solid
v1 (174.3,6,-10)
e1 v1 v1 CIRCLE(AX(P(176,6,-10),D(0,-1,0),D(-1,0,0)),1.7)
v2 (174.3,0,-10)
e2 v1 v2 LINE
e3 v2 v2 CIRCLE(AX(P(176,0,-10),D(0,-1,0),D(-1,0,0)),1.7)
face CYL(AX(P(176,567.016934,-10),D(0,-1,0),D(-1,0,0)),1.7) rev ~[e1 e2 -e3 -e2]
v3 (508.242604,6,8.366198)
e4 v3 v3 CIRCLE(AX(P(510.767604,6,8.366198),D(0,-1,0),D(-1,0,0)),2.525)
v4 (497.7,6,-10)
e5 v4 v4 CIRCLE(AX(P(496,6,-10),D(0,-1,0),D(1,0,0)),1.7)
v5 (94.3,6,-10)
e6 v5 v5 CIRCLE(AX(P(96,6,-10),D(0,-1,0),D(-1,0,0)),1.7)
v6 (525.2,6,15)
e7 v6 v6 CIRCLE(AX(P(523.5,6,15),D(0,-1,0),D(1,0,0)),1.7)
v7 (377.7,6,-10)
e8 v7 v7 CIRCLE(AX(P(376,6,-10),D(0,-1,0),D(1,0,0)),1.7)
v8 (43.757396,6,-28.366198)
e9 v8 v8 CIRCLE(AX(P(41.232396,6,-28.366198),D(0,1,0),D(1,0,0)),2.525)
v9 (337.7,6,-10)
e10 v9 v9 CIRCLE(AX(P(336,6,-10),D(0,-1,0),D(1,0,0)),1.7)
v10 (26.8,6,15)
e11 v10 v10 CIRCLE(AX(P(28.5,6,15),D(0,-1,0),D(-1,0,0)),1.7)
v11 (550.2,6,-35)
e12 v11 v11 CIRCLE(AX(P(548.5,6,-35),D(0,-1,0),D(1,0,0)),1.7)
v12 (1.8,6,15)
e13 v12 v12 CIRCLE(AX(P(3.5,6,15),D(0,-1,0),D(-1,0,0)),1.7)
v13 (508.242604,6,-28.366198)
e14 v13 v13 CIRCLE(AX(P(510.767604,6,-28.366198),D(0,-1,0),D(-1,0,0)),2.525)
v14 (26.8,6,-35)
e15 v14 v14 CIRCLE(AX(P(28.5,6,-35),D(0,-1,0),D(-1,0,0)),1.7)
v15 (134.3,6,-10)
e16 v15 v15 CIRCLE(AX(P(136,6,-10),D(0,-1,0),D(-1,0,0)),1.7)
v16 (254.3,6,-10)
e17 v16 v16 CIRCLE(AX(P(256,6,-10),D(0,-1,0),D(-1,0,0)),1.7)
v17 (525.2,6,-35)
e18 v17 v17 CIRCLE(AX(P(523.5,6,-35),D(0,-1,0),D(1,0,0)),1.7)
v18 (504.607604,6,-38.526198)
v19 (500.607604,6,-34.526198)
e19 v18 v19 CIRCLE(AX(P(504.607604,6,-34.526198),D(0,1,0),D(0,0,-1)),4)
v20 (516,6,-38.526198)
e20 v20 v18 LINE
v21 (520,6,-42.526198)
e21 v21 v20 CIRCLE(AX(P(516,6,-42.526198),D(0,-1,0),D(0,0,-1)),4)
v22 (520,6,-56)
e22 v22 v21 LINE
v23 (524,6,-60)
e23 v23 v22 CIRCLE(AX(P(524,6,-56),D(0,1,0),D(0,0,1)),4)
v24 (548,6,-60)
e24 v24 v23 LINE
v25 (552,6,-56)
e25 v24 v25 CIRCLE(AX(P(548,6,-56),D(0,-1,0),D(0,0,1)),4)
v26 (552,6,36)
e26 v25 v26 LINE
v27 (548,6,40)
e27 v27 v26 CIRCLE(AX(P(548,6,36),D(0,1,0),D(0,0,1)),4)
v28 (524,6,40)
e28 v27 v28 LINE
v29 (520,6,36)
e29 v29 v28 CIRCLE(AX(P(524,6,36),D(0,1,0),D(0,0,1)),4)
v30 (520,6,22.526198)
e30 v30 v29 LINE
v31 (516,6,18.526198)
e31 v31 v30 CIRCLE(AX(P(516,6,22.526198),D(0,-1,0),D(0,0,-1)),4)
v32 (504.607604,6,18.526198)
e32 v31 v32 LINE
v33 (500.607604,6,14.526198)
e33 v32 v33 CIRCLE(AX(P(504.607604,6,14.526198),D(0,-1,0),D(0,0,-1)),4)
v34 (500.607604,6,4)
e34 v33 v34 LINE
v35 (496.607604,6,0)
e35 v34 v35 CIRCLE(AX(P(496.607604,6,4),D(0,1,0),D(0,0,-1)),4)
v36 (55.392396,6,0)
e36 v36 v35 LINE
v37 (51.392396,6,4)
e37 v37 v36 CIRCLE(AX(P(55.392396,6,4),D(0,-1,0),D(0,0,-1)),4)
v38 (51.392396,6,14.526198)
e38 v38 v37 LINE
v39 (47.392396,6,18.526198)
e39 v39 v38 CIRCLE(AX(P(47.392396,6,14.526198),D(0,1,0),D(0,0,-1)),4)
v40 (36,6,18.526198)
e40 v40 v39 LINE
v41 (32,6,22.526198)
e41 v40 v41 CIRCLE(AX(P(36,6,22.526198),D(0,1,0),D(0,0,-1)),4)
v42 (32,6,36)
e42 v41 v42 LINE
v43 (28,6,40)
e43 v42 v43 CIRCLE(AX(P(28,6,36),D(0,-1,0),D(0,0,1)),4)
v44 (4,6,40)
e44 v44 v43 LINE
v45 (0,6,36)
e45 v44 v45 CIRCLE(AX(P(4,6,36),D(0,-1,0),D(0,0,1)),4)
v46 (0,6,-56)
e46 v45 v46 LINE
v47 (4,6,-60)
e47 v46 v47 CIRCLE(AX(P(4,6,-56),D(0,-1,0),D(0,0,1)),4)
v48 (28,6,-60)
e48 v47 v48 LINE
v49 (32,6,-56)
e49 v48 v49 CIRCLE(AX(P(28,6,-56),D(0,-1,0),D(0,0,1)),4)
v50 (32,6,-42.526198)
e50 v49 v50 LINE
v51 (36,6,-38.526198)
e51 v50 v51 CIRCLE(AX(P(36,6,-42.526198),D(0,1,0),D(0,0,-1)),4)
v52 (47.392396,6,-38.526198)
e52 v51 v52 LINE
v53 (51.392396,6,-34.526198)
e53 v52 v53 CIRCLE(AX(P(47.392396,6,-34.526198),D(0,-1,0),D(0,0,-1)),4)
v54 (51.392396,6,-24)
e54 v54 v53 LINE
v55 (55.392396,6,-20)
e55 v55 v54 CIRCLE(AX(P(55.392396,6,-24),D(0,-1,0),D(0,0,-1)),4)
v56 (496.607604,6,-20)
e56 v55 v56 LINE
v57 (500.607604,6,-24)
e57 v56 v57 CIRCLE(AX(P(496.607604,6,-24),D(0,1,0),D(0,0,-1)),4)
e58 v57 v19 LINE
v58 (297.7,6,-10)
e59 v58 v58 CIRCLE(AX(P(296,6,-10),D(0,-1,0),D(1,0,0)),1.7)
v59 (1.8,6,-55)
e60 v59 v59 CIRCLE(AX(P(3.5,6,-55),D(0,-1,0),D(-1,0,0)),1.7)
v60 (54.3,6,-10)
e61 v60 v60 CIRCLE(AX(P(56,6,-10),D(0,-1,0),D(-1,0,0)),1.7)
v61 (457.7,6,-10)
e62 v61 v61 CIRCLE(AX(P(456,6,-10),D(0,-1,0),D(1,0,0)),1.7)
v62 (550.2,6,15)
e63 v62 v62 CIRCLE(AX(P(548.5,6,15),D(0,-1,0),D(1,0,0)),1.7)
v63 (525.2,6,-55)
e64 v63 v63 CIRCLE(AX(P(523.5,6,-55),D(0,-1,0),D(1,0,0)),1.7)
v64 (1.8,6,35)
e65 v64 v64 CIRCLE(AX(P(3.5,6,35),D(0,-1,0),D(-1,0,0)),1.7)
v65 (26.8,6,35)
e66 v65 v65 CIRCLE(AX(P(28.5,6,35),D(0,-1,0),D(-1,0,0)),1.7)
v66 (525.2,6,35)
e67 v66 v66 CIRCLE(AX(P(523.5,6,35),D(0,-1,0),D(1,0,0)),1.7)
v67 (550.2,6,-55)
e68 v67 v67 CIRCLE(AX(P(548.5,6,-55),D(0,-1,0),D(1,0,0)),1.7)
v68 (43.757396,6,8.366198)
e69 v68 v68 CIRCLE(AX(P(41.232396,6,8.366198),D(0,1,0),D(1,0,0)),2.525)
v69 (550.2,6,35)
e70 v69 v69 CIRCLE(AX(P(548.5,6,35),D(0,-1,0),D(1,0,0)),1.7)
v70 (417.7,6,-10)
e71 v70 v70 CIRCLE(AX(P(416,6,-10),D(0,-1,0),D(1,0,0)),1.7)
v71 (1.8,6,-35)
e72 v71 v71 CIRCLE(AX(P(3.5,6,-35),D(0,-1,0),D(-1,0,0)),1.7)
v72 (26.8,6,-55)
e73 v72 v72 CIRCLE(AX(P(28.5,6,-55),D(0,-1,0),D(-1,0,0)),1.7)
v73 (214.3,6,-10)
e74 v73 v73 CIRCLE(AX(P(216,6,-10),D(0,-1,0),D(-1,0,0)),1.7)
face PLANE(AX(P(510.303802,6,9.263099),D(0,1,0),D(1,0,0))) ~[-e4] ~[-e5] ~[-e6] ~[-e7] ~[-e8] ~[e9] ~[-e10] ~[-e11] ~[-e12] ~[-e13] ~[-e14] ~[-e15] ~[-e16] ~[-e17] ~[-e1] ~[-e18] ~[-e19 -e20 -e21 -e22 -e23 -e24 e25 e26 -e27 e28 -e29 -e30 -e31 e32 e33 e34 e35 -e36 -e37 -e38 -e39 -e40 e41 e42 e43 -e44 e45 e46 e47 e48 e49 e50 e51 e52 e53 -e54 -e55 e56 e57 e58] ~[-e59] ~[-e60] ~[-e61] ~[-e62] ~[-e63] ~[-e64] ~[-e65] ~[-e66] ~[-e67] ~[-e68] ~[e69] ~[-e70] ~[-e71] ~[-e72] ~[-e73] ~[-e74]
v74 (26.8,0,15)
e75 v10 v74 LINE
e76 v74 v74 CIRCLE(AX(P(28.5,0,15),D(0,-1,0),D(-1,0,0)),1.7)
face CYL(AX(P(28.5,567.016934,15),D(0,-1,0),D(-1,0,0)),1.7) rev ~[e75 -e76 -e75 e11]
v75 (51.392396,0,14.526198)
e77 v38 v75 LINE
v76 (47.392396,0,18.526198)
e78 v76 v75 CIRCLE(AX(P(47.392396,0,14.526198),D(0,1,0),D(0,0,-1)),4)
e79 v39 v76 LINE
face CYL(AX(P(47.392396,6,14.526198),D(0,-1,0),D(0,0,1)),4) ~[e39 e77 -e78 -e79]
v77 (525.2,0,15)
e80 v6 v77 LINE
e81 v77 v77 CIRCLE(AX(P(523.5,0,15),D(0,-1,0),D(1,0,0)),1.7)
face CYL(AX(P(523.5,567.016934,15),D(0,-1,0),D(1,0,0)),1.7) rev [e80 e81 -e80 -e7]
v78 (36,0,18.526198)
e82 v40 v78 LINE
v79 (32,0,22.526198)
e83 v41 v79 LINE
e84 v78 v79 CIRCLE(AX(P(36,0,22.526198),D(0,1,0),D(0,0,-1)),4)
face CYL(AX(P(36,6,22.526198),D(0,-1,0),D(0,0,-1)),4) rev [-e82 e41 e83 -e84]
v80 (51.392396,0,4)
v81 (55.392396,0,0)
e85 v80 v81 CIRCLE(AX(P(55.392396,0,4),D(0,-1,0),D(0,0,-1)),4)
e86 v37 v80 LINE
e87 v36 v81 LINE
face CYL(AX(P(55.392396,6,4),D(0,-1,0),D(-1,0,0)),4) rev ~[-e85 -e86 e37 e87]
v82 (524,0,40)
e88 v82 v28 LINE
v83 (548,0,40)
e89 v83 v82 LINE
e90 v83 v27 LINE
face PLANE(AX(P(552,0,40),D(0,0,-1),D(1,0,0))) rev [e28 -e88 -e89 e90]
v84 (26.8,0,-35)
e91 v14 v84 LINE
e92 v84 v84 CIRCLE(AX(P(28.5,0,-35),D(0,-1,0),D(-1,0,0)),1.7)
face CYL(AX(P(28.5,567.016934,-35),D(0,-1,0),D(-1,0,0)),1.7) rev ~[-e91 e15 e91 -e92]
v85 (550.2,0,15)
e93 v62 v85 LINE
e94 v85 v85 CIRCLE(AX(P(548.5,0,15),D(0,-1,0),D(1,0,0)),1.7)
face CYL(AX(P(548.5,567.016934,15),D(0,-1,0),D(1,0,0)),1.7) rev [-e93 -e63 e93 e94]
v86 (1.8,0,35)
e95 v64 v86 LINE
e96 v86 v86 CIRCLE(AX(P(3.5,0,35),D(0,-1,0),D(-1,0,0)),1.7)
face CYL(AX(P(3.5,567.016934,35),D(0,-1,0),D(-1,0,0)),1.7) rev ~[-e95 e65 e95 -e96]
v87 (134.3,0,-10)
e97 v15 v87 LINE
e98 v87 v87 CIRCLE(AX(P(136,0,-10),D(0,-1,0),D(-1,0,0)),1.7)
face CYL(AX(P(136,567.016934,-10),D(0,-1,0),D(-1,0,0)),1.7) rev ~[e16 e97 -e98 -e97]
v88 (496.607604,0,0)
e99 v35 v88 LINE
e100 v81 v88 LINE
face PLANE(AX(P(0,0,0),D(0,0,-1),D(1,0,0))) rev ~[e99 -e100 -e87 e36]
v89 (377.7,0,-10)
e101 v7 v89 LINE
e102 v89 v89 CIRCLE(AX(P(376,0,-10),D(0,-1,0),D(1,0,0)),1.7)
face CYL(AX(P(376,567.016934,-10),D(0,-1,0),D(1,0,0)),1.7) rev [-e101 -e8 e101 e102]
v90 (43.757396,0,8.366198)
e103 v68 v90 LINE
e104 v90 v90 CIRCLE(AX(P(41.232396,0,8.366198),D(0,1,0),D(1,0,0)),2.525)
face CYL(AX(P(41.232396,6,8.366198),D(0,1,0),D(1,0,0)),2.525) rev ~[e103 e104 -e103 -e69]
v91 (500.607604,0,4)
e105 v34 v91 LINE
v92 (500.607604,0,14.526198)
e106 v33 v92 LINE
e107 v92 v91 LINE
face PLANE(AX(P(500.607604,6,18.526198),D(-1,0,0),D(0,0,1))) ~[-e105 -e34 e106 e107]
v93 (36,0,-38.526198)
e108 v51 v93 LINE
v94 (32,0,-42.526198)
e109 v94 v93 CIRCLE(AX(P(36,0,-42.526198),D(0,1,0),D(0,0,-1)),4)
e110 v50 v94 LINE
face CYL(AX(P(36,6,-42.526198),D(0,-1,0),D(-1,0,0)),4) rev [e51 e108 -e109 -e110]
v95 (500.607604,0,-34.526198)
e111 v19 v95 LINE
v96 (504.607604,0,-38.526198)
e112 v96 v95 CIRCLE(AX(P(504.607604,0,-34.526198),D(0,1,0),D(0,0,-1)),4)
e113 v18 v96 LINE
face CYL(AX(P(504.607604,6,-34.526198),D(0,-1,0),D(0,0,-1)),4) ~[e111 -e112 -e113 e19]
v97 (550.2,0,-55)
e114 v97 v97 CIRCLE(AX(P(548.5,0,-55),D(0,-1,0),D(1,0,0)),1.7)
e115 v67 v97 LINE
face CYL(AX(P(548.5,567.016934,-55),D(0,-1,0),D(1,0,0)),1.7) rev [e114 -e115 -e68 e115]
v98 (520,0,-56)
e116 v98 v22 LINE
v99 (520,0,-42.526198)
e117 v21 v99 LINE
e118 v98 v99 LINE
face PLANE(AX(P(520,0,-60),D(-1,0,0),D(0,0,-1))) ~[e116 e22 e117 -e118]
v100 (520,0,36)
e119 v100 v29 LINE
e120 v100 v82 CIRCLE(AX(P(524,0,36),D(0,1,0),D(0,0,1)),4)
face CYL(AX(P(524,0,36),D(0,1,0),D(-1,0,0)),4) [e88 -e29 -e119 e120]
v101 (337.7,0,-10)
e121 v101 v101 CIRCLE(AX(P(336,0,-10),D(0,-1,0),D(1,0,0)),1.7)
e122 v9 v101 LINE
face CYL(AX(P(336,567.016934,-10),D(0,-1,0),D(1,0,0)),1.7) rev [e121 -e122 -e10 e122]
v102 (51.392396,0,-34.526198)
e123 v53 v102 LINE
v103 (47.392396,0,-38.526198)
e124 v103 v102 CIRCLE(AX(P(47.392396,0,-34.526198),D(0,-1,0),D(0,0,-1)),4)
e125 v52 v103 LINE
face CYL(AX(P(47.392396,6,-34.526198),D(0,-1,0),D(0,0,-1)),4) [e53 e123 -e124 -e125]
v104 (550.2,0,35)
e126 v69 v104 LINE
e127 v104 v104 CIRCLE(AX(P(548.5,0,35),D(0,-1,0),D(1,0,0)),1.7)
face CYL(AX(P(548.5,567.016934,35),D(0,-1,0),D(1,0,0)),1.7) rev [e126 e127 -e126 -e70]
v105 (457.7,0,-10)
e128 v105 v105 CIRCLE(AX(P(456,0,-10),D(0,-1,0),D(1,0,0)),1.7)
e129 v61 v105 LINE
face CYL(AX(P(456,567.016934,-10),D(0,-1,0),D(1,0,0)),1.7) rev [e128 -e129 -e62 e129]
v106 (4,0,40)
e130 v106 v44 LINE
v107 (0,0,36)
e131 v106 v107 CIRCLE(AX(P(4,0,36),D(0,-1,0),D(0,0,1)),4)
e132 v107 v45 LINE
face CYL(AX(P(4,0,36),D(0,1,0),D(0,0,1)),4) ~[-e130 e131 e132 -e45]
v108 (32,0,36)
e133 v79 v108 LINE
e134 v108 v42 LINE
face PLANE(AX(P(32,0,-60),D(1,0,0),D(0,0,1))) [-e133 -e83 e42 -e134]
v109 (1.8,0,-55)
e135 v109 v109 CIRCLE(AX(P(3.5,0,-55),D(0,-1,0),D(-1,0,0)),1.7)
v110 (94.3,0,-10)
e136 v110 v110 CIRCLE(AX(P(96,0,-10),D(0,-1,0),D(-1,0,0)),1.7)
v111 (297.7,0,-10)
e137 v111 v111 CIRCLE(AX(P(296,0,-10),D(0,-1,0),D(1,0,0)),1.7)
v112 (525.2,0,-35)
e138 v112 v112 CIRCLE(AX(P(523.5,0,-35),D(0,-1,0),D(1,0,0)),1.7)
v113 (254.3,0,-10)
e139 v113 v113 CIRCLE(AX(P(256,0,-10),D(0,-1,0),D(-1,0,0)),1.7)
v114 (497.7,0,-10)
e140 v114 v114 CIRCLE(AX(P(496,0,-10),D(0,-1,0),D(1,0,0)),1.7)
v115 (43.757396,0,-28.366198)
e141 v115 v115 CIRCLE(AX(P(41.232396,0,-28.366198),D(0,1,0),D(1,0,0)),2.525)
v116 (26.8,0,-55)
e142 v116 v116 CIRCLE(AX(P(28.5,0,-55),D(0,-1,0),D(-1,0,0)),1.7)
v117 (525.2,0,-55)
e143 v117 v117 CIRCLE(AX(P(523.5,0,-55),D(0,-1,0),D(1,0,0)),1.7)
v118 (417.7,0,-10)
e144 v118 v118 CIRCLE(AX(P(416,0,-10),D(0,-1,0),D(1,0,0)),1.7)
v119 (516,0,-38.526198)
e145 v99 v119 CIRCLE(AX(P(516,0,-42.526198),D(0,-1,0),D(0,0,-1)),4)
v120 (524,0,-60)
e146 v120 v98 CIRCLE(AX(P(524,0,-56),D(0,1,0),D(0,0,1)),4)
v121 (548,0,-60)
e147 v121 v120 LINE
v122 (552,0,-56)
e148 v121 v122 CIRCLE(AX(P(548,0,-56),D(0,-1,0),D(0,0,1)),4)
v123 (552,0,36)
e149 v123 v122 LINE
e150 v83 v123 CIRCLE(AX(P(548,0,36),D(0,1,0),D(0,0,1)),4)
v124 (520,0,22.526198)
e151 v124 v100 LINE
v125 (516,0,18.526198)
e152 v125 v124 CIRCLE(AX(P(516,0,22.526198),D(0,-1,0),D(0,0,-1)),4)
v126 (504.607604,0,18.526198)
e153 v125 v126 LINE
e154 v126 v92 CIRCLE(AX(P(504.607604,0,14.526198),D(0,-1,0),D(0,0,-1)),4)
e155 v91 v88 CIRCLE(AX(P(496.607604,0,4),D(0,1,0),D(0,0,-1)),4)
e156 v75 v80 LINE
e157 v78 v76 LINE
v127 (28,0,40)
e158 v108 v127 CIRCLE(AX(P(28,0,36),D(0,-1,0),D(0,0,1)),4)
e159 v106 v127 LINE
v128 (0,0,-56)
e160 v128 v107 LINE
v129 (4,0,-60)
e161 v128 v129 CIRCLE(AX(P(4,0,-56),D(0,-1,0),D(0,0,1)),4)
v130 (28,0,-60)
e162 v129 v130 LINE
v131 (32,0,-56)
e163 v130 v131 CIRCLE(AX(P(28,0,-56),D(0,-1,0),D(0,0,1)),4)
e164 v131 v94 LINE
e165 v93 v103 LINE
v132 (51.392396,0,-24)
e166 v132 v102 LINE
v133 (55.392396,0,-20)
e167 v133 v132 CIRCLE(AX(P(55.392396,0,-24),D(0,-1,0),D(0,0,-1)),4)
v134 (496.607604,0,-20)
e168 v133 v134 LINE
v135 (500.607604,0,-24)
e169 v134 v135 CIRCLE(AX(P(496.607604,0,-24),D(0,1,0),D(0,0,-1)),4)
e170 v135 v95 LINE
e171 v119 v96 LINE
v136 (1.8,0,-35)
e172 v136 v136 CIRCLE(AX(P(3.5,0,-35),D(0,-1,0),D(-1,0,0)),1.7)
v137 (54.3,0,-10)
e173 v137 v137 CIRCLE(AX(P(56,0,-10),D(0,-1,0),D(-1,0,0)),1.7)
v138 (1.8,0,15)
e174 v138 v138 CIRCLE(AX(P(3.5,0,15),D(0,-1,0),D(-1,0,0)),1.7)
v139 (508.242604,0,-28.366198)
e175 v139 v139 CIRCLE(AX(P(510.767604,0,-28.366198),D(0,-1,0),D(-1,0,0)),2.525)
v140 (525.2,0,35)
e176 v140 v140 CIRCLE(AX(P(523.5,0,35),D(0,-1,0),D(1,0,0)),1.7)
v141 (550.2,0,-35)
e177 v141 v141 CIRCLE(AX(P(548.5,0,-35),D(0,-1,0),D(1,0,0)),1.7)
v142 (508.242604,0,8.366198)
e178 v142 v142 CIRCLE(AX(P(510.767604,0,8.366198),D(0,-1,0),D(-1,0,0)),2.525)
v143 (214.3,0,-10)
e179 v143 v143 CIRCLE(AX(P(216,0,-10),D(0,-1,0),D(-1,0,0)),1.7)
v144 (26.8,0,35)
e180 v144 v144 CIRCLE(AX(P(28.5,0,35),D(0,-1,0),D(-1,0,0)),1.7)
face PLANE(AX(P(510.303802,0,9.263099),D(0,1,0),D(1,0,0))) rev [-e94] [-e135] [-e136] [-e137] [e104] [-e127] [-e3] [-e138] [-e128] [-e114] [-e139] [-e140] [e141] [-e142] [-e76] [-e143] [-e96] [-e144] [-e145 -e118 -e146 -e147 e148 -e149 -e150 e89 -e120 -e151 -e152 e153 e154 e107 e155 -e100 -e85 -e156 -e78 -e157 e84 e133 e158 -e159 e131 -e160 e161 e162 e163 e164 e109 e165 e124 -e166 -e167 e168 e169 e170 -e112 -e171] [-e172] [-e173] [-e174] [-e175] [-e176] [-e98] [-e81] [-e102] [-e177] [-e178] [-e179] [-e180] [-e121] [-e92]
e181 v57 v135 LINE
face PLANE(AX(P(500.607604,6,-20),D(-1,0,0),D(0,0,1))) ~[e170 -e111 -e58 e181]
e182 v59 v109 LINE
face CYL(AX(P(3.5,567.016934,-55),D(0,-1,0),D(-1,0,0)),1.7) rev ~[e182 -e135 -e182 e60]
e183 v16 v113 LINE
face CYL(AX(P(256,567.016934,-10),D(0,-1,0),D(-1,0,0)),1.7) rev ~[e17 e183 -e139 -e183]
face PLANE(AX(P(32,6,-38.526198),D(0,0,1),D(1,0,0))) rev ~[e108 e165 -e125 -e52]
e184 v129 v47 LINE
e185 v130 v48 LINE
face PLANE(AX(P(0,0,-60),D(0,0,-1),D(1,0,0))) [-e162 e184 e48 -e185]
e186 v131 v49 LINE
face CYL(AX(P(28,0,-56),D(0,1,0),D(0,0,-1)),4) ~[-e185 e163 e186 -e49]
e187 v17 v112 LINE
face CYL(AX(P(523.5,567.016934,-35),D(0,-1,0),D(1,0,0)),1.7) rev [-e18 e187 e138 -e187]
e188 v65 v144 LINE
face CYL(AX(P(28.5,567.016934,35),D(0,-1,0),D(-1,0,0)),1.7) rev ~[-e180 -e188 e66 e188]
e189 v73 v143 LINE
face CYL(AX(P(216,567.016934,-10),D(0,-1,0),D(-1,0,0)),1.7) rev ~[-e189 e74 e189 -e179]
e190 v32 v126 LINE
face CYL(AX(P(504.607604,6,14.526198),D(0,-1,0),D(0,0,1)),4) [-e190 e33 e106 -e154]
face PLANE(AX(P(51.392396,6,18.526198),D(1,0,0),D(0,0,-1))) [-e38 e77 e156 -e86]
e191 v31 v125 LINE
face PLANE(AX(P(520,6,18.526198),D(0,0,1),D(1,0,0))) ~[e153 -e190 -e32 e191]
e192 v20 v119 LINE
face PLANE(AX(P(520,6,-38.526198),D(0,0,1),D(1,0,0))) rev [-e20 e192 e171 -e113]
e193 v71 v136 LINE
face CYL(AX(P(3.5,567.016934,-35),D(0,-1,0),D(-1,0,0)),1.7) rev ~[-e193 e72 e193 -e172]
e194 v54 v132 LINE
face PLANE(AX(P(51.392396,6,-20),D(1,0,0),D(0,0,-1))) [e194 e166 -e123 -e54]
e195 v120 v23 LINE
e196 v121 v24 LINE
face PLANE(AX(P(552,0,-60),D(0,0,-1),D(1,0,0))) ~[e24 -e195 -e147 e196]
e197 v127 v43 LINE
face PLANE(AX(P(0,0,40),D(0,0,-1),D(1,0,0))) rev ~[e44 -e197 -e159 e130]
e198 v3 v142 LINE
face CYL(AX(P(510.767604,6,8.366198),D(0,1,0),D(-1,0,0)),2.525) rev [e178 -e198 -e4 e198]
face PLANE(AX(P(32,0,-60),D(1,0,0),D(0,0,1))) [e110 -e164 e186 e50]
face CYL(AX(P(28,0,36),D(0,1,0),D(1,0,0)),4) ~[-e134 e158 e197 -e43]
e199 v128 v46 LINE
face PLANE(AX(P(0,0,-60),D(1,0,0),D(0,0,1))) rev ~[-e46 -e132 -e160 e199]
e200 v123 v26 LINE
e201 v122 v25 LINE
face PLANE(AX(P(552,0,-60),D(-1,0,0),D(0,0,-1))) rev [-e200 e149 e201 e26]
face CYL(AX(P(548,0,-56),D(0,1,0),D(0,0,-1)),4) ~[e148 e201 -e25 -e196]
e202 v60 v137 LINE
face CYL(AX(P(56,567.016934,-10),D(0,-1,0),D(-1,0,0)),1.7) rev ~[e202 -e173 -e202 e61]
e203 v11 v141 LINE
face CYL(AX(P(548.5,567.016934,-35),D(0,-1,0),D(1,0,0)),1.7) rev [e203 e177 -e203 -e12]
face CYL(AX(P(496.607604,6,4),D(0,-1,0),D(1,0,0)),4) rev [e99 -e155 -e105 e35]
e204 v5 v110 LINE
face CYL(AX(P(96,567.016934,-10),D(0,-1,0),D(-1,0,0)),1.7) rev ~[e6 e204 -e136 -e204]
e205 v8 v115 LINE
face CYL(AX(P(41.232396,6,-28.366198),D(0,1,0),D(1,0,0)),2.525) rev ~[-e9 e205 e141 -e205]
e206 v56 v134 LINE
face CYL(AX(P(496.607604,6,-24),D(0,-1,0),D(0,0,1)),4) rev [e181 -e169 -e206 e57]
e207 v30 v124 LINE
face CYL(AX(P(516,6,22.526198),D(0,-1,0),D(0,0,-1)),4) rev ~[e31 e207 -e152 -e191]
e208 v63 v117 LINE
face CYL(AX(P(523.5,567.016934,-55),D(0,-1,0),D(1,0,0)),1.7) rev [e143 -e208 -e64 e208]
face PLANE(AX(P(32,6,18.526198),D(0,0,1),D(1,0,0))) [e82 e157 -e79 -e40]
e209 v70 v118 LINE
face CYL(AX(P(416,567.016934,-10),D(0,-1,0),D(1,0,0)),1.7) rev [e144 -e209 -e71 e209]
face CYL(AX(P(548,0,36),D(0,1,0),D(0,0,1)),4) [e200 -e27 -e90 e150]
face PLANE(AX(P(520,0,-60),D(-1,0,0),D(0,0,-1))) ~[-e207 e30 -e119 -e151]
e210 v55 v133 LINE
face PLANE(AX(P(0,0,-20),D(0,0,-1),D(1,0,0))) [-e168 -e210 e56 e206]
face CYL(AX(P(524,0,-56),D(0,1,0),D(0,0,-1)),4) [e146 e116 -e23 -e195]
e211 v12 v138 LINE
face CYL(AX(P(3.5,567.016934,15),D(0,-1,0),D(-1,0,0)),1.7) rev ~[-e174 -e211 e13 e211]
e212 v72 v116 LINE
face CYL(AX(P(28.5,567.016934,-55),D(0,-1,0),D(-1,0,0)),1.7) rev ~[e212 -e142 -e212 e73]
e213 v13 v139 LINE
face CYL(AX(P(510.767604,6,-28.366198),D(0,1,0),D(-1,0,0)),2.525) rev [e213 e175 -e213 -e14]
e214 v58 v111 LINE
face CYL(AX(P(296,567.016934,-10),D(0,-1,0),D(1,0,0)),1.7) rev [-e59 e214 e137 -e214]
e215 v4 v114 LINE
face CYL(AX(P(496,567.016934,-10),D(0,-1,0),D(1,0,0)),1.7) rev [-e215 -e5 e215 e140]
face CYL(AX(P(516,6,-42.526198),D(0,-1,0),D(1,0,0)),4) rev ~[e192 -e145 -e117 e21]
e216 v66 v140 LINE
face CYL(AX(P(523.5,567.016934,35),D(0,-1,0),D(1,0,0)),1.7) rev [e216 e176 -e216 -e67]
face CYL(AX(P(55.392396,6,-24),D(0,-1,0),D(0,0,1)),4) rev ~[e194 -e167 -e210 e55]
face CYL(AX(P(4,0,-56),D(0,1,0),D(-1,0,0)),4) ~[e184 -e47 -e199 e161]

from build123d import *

# Parameters (mm, degrees)
SKETCH1_W            = 552
SKETCH1_H            = 20
BOSS_EXTRUDE1_DEPTH  = 6
SKETCH3_W            = 32
SKETCH3_H            = 100
BOSS_EXTRUDE2_DEPTH  = 6
M3_CLEARANCE_HOLE1_D = 3.4
SKETCH10_W           = 19.392395665
SKETCH10_H           = 18.526197832
SKETCH10_R           = 2.525
BOSS_EXTRUDE3_DEPTH  = 6
FILLET2_R            = 4
FILLET2_OF_MIRROR1_R = 4


with BuildPart() as part:
    # Sketch1 → Boss-Extrude1 (new body)
    with BuildSketch(Plane(origin=(0, 0, 0), x_dir=(1, 0, 0), z_dir=(0, 1, 0))):
        with Locations((276, 10)):
            Rectangle(SKETCH1_W, SKETCH1_H)
    extrude(amount=BOSS_EXTRUDE1_DEPTH)

    # Sketch3 → Boss-Extrude2 (add)
    with BuildSketch(Plane.XZ):
        with Locations((16, -10)):
            Rectangle(SKETCH3_W, SKETCH3_H)
    boss_extrude2 = extrude(amount=-BOSS_EXTRUDE2_DEPTH)

    # M3 Clearance Hole1 (through all)
    with Locations(Plane(origin=(0, 6, 0), x_dir=(1, 0, 0), z_dir=(0, 1, 0))):
        with Locations((3.5, -35), (3.5, -15), (28.5, -15), (28.5, -35), (3.5, 55), (28.5, 55), (28.5, 35), (3.5, 35), (56, 10), (96, 10), (136, 10), (176, 10), (216, 10), (256, 10)):
            m3_clearance_hole1 = Hole(M3_CLEARANCE_HOLE1_D / 2)

    # Sketch10 → Boss-Extrude3 (add)
    with BuildSketch(Plane(origin=(0, 6, 0), x_dir=(1, 0, 0), z_dir=(0, 1, 0))):
        with Locations((41.696197833, -9.263098916)):
            Rectangle(SKETCH10_W, SKETCH10_H)
        with Locations((41.232395665, -8.366197832)):
            Circle(SKETCH10_R, mode=Mode.SUBTRACT)
        with Locations((41.696197833, 29.263098916)):
            Rectangle(SKETCH10_W, SKETCH10_H)
        with Locations((41.232395665, 28.366197832)):
            Circle(SKETCH10_R, mode=Mode.SUBTRACT)
    boss_extrude3 = extrude(amount=-BOSS_EXTRUDE3_DEPTH)

    # Fillet2
    fillet2_edges = [part.edges().sort_by_distance(p)[0] for p in [
        (32, 3, 18.526197832),
        (51.392395665, 3, 0),
        (51.392395665, 3, 18.526197832),
        (32, 3, -38.526197832),
        (51.392395665, 3, -38.526197832),
        (51.392395665, 3, -20),
        (0, 3, -60),
        (32, 3, 40),
        (0, 3, 40),
        (32, 3, -60),
    ]]
    fillet(fillet2_edges, radius=FILLET2_R)

    # Mirror1: Boss-Extrude2, M3 Clearance Hole1, Boss-Extrude3 across plane
    add(boss_extrude2.mirror(Plane(origin=(276, 0, 0), x_dir=(0, 0, 1), z_dir=(1, 0, 0))))
    add(m3_clearance_hole1.mirror(Plane(origin=(276, 0, 0), x_dir=(0, 0, 1), z_dir=(1, 0, 0))), mode=Mode.SUBTRACT)
    add(boss_extrude3.mirror(Plane(origin=(276, 0, 0), x_dir=(0, 0, 1), z_dir=(1, 0, 0))))

    # Fillet2 of Mirror1
    fillet2_of_mirror1_edges = [part.edges().sort_by_distance(p)[0] for p in [
        (520, 3, 18.526197832),
        (500.607604335, 3, 0),
        (500.607604335, 3, 18.526197832),
        (520, 3, -38.526197832),
        (500.607604335, 3, -38.526197832),
        (500.607604335, 3, -20),
        (552, 3, -60),
        (520, 3, 40),
        (552, 3, 40),
        (520, 3, -60),
    ]]
    fillet(fillet2_of_mirror1_edges, radius=FILLET2_OF_MIRROR1_R)


solid = part.part
